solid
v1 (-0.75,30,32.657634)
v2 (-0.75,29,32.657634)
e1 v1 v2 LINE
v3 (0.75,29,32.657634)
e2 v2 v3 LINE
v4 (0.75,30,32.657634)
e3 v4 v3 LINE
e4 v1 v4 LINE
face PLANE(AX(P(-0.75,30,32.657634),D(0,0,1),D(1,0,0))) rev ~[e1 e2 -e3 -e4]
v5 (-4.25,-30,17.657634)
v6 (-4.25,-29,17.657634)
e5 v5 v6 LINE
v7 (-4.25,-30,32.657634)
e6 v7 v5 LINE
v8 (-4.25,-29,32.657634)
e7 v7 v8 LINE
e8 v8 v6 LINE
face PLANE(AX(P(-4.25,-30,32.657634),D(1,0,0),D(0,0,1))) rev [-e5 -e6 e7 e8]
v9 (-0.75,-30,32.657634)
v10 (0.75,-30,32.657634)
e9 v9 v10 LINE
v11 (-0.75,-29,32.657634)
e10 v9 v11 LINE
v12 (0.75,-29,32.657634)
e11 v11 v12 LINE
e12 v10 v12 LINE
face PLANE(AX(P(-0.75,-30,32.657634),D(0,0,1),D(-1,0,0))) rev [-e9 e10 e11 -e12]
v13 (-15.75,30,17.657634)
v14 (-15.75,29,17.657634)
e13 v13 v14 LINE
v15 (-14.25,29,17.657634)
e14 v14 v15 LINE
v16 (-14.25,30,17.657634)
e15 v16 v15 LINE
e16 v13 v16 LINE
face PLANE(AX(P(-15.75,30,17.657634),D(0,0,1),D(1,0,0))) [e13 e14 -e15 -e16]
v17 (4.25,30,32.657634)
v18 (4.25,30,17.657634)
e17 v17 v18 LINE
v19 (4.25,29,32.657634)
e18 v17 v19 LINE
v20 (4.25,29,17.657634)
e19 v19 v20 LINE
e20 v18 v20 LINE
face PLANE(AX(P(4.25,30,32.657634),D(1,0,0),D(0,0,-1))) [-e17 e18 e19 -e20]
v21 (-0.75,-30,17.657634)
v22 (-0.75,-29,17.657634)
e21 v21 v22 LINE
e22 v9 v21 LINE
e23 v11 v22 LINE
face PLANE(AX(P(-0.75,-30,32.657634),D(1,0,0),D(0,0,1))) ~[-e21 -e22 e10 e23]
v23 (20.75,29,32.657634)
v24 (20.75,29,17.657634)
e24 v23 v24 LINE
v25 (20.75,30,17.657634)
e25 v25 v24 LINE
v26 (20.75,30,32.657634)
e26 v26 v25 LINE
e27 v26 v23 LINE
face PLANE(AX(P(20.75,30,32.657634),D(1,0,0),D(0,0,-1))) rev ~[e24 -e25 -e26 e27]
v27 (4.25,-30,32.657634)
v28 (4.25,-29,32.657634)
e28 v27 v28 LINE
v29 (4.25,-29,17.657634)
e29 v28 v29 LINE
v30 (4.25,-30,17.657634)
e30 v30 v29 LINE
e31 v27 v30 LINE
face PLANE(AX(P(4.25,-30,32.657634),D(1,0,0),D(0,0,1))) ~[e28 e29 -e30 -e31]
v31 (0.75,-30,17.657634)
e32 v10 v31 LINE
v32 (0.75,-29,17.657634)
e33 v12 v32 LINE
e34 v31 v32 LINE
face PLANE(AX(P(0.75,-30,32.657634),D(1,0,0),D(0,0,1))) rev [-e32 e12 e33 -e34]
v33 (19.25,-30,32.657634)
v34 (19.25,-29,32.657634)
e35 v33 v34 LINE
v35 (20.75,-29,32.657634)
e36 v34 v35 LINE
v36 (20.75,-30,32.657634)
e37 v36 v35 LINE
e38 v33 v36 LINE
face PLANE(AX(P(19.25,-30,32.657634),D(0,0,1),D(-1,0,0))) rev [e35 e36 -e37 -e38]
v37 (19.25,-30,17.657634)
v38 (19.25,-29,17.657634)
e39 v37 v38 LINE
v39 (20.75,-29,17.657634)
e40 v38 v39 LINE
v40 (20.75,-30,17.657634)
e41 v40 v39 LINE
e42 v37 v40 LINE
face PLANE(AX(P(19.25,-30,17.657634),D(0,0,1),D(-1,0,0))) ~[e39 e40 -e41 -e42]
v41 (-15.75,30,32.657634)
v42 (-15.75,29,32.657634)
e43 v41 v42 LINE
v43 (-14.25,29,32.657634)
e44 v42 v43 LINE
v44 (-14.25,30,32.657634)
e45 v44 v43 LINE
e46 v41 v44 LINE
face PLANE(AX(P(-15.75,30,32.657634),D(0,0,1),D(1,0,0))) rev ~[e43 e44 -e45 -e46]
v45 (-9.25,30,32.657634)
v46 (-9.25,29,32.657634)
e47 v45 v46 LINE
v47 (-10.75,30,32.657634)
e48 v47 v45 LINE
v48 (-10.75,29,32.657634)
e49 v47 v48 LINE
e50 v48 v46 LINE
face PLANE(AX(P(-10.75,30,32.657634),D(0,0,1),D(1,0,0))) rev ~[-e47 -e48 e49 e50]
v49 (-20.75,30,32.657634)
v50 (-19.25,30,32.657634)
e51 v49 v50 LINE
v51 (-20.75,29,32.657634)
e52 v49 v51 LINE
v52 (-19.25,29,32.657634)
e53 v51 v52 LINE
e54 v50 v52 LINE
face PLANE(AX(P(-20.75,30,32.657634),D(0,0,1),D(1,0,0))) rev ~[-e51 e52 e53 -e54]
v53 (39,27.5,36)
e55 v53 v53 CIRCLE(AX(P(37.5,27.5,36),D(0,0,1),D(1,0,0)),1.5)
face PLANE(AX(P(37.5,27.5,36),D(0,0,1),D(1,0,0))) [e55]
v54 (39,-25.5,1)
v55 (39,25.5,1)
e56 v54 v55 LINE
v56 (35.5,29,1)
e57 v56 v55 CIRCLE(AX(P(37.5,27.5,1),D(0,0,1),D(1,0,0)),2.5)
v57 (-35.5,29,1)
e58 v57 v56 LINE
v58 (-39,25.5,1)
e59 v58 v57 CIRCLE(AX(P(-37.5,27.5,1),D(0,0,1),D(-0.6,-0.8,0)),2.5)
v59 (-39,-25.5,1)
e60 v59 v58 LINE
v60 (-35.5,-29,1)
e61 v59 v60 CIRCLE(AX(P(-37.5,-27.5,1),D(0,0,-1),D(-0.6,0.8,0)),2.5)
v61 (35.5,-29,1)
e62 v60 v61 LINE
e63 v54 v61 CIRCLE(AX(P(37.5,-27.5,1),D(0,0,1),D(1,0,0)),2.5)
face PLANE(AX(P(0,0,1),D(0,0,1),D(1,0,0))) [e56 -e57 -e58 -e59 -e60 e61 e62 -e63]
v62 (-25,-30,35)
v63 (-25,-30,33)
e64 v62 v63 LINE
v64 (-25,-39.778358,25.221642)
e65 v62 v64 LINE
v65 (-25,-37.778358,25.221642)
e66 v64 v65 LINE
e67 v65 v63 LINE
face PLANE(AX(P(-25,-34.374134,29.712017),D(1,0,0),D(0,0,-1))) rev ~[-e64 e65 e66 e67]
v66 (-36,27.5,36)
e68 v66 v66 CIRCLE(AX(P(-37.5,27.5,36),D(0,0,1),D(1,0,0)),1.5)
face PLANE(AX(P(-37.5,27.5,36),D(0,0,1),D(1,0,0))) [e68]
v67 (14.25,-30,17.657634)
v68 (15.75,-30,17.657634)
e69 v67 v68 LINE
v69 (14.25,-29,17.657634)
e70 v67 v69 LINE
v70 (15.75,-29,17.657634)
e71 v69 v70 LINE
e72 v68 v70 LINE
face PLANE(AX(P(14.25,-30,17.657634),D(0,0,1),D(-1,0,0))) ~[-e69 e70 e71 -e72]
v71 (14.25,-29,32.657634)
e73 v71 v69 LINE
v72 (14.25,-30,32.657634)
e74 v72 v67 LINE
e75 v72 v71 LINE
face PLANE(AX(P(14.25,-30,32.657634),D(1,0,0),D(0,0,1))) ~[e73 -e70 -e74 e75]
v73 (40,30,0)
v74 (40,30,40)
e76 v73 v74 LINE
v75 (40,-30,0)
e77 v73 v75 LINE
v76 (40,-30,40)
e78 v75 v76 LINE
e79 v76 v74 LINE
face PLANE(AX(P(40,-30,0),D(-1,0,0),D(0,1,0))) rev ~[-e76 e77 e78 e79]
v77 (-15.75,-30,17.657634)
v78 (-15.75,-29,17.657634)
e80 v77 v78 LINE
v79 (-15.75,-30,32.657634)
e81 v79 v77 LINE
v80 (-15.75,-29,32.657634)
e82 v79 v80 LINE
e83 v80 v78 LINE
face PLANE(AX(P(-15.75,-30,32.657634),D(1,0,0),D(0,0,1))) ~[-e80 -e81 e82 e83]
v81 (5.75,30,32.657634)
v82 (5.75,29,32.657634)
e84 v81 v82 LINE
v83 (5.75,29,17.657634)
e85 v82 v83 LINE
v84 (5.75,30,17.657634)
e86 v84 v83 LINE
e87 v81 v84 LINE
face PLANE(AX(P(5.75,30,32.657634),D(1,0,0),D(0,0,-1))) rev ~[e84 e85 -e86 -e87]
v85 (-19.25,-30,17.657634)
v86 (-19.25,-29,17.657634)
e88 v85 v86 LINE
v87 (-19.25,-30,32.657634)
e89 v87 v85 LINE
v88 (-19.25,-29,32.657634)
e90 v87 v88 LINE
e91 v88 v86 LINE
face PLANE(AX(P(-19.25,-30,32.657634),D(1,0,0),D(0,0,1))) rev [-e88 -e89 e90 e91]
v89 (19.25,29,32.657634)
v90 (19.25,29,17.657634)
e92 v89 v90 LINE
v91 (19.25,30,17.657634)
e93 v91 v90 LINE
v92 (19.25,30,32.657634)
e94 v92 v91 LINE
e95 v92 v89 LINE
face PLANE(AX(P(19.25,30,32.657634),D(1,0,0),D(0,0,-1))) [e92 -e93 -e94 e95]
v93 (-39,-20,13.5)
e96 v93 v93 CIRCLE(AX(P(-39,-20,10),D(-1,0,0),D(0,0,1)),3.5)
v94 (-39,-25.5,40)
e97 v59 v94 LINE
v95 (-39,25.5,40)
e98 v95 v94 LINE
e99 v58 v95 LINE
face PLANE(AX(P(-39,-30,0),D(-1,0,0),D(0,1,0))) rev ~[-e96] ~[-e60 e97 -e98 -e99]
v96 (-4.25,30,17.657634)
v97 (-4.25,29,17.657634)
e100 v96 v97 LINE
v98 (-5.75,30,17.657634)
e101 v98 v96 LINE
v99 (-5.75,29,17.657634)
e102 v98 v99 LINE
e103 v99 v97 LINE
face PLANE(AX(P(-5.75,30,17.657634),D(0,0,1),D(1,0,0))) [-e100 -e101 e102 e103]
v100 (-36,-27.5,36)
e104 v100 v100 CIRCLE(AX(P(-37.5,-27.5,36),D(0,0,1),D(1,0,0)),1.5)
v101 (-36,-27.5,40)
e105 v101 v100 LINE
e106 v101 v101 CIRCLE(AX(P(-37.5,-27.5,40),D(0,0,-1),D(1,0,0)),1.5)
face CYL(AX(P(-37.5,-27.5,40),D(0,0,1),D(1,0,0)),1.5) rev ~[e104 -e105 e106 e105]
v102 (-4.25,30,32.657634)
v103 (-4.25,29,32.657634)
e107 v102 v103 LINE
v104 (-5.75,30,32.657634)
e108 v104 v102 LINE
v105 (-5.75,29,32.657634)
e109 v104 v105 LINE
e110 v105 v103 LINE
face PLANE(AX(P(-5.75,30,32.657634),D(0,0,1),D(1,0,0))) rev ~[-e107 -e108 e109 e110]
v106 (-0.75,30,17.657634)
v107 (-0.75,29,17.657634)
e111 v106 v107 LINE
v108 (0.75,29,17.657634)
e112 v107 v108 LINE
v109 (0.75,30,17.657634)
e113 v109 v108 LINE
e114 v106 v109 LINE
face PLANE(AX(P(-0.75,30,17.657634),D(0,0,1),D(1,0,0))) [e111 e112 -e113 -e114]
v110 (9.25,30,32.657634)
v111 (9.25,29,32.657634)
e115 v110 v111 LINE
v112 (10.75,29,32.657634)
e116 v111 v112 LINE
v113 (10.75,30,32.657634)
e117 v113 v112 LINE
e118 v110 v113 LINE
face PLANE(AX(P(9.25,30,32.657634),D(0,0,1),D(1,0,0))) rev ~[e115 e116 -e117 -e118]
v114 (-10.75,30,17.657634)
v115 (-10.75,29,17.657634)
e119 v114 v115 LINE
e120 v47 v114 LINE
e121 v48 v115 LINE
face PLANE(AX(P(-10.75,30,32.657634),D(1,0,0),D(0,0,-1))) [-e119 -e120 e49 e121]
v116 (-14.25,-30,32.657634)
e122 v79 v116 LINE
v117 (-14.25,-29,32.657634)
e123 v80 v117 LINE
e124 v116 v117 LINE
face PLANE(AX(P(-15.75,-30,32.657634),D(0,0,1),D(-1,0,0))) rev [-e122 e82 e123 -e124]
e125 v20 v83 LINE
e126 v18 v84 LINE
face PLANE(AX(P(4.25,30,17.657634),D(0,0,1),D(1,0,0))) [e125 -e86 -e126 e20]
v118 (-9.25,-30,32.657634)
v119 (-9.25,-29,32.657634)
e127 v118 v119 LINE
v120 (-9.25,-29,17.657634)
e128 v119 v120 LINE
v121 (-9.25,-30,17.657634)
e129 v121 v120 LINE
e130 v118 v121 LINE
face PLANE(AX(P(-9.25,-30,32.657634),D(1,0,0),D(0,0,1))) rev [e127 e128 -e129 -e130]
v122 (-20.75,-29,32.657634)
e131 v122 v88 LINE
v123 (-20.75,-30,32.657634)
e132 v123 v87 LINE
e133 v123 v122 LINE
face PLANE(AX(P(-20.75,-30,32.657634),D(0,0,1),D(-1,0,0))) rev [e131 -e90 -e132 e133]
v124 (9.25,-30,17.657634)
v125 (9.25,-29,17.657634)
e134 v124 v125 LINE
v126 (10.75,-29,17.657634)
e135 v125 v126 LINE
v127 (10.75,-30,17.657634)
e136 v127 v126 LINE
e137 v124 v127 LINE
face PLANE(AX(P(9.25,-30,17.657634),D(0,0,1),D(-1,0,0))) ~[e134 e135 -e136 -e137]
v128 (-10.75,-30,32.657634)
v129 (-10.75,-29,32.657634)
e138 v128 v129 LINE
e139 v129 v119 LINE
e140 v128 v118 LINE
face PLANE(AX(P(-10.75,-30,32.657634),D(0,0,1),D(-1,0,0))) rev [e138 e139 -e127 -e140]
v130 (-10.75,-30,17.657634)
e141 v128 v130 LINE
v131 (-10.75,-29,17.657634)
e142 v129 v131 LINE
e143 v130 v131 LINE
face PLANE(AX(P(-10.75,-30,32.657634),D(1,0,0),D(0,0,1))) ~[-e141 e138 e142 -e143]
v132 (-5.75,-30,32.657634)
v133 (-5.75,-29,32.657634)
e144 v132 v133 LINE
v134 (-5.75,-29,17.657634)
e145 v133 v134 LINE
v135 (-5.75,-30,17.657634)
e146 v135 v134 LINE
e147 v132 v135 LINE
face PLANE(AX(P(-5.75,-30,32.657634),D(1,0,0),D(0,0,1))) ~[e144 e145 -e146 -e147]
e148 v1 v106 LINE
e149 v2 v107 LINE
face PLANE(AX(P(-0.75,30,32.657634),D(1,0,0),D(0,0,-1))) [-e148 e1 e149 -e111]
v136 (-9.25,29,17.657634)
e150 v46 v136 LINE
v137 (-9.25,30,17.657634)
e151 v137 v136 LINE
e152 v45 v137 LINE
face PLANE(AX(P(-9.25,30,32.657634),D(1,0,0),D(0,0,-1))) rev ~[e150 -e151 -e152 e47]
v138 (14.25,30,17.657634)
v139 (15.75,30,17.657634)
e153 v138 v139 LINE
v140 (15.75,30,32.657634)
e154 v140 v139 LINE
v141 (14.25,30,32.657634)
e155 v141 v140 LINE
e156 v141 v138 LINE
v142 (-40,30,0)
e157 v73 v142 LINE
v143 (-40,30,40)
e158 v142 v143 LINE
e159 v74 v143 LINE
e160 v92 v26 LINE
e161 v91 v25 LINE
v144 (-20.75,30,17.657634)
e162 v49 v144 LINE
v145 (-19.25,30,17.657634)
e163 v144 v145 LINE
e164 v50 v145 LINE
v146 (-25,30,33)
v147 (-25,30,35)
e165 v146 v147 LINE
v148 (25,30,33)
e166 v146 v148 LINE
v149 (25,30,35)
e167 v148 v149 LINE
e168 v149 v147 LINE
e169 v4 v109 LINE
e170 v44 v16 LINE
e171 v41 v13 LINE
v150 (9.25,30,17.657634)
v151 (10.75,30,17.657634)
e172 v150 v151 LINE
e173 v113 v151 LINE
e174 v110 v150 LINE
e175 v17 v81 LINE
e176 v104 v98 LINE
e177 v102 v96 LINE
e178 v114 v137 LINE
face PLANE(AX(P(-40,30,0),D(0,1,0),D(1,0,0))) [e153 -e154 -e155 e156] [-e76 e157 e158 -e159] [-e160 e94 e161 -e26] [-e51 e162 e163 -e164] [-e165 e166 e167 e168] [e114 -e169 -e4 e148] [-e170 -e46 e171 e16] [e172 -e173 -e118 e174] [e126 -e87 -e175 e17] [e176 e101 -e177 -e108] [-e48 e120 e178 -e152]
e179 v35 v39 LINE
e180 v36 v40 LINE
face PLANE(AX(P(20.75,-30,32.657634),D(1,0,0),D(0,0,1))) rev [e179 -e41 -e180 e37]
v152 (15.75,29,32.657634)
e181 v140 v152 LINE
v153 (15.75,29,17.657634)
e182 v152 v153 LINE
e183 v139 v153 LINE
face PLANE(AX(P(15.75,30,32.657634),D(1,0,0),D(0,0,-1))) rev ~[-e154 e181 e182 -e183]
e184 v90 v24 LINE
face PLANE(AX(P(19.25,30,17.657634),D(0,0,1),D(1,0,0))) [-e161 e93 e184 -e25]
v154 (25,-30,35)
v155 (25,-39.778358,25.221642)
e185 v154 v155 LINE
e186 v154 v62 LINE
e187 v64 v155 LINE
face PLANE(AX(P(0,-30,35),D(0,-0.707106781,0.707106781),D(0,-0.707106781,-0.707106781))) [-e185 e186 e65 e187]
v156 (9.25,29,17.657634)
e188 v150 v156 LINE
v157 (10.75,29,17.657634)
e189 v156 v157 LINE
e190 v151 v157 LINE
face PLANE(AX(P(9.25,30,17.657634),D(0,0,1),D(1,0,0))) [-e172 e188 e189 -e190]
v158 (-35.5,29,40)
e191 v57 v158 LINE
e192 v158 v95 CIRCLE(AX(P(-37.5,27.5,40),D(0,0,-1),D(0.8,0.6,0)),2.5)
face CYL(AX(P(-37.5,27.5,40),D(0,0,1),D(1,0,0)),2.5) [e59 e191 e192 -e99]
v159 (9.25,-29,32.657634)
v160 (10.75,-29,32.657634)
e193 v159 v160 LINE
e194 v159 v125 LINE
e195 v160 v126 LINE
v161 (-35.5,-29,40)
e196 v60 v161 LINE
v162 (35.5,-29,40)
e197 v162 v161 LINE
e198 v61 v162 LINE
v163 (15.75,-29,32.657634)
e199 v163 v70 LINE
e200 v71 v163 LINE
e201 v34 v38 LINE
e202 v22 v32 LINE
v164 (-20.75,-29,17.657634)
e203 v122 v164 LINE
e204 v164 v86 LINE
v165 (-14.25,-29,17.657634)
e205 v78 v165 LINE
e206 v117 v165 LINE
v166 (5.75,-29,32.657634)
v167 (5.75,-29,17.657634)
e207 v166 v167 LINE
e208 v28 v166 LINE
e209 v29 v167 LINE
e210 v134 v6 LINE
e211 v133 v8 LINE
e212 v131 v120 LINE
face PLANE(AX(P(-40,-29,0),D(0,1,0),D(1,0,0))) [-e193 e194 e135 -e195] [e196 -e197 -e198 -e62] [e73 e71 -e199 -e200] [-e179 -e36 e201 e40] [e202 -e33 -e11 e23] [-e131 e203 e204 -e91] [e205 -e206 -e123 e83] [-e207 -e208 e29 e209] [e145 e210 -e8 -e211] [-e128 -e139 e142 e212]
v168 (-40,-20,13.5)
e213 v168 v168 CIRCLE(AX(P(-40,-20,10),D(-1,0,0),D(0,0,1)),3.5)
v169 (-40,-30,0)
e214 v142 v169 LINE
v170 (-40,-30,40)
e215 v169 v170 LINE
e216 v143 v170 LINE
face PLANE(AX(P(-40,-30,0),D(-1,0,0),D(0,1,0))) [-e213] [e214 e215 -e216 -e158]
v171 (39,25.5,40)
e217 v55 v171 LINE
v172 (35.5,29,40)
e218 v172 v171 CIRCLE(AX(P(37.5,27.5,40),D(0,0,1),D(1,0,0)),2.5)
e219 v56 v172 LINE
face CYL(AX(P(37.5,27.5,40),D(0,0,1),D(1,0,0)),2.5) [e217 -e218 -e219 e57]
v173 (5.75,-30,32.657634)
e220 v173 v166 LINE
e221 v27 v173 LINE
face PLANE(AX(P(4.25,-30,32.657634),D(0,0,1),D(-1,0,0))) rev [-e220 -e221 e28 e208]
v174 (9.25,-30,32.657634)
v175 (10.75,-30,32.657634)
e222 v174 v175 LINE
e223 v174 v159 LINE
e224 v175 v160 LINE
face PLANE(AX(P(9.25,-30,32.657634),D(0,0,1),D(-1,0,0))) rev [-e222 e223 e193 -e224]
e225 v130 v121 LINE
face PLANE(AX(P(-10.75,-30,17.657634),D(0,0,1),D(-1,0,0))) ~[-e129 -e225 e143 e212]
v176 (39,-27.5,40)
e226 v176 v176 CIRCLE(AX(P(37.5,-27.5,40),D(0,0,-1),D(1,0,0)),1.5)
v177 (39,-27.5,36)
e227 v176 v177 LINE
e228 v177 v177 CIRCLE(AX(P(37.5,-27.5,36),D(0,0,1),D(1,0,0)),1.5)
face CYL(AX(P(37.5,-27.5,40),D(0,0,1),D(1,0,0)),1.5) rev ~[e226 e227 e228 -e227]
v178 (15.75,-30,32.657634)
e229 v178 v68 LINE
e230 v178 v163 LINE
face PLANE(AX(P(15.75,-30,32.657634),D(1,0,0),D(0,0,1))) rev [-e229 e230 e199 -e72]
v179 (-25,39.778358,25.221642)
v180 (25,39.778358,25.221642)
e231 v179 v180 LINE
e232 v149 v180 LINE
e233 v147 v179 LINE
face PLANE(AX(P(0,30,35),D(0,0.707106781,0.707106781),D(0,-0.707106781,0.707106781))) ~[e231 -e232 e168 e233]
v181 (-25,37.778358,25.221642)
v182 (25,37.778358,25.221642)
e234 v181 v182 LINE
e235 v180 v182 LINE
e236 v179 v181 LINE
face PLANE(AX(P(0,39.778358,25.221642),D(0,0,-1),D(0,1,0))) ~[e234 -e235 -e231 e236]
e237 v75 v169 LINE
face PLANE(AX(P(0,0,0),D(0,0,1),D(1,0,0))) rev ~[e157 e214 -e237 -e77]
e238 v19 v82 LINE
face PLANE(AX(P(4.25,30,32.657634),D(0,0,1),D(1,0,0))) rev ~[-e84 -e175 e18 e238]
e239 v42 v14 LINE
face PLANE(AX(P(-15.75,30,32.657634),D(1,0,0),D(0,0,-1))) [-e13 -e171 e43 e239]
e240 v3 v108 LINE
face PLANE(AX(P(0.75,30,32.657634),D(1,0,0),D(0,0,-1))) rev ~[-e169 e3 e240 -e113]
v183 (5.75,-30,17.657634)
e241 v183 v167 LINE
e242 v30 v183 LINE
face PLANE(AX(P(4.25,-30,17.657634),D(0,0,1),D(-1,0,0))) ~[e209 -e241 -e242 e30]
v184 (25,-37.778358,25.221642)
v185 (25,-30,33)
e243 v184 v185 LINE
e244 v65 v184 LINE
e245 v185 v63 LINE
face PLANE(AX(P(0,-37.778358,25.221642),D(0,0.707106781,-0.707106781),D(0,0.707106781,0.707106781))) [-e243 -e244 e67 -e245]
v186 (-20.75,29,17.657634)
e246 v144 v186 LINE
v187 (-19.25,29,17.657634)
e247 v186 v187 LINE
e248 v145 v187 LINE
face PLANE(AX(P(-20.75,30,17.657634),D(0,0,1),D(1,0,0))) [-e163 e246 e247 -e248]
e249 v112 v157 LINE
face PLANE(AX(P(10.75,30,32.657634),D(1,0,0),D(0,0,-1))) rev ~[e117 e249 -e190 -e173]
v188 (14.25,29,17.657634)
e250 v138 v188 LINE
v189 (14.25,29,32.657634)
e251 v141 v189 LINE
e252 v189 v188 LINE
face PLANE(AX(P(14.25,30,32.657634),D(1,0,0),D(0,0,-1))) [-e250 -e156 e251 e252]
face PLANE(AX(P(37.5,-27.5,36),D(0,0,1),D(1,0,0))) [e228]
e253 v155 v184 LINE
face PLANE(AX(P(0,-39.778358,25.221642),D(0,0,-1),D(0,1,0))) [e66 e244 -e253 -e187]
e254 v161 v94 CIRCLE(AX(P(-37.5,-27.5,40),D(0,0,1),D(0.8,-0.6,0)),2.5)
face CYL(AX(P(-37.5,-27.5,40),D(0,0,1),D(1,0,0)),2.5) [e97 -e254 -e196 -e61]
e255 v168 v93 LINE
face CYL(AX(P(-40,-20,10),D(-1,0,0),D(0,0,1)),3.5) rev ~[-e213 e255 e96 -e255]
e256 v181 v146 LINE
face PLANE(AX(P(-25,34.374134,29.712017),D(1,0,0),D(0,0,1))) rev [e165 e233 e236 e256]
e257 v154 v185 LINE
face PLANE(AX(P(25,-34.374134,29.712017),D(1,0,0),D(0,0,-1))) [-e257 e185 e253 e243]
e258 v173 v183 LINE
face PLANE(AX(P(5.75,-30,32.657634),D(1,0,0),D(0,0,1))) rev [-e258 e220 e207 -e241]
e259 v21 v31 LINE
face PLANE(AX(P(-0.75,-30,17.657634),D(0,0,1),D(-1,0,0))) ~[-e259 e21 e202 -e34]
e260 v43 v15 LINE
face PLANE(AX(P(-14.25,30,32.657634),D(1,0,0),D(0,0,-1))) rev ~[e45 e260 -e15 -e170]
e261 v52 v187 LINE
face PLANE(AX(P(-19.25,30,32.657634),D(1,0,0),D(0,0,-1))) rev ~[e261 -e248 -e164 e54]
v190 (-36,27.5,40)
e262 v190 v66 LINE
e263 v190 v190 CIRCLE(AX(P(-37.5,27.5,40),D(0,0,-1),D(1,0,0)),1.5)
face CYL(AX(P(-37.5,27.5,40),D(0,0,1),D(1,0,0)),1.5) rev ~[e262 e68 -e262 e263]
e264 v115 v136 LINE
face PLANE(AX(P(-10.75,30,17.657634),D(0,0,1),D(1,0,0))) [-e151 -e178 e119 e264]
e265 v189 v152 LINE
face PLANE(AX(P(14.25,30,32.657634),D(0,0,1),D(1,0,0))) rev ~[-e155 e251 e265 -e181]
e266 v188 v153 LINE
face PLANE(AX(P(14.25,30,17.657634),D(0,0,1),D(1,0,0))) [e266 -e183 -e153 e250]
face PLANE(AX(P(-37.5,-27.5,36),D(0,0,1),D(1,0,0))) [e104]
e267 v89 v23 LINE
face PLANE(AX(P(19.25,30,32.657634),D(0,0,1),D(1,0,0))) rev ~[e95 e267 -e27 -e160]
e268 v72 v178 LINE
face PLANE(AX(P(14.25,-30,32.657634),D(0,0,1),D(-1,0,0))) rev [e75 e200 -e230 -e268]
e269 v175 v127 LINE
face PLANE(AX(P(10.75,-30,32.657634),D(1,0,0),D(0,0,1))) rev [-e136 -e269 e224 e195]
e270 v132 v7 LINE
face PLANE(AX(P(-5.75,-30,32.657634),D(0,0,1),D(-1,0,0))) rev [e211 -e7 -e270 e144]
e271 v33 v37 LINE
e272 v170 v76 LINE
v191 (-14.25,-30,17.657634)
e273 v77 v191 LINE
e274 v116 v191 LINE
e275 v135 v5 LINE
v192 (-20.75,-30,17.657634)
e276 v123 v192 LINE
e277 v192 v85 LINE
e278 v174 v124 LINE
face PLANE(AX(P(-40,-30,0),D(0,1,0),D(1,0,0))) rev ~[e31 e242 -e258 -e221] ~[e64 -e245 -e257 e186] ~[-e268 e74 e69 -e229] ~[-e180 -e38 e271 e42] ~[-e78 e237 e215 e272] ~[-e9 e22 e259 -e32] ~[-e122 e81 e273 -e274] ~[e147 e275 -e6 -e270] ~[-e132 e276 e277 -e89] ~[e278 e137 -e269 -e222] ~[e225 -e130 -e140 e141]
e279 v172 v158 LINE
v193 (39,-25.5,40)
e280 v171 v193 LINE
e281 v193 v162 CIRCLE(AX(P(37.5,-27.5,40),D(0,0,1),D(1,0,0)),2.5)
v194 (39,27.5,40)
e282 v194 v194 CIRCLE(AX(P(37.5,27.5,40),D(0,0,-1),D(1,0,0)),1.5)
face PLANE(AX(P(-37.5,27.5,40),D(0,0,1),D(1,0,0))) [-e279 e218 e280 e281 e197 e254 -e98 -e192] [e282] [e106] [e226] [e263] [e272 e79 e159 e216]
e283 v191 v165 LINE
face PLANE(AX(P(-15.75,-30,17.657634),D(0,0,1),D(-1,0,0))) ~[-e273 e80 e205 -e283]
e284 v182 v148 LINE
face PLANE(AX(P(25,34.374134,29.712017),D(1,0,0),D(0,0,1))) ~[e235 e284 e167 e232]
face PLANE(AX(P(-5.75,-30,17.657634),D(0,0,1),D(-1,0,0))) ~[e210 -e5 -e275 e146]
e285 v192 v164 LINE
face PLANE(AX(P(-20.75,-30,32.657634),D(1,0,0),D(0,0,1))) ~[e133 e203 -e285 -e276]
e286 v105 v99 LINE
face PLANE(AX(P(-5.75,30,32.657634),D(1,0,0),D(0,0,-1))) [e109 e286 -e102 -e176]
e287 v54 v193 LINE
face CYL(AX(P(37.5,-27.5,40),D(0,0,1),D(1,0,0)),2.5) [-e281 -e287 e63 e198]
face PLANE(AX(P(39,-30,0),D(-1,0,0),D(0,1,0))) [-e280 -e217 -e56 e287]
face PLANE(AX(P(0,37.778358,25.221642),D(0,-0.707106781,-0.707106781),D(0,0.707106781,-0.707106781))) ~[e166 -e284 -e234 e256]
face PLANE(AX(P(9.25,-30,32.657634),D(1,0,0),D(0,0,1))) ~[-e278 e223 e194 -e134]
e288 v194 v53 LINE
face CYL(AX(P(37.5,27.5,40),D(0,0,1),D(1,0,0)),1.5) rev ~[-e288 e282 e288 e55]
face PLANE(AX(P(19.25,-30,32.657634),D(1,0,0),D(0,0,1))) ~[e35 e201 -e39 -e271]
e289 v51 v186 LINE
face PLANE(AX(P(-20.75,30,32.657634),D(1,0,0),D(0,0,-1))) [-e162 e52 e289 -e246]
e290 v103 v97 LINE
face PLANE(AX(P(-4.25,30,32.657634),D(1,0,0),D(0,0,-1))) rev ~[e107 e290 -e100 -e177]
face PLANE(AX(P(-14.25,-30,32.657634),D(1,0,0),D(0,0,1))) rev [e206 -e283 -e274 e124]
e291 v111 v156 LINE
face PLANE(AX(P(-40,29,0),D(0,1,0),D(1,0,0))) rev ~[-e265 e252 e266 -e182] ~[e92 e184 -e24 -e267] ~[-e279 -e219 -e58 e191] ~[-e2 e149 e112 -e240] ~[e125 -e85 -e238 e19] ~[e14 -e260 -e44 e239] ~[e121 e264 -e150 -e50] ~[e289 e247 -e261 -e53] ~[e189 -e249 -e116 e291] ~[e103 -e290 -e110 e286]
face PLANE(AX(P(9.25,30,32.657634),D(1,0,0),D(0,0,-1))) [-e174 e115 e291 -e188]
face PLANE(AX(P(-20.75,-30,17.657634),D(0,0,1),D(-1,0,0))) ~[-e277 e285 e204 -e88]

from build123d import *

# Parameters (mm, degrees)
CROQUIS1_W              = 80
CROQUIS1_H              = 60
SALIENTE_EXTRUIR1_DEPTH = 40
VACIADO1_T              = -1
CROQUIS2_R              = 2.5
CROQUIS2_R_2            = 1.5
SALIENTE_EXTRUIR2_DEPTH = 40
SALIENTE_EXTRUIR3_DEPTH = 25
CROQUIS4_W              = 1.5
CROQUIS4_H              = 15
CORTAR_EXTRUIR1_DEPTH   = 1
CROQUIS5_R              = 1.5
SALIENTE_EXTRUIR4_DEPTH = 35
CORTAR_EXTRUIR2_REACH   = 82
CROQUIS6_R              = 3.5


with BuildPart() as part:
    # Croquis1 → Saliente-Extruir1 (new body)
    with BuildSketch(Plane.XY):
        Rectangle(CROQUIS1_W, CROQUIS1_H)
    extrude(amount=SALIENTE_EXTRUIR1_DEPTH)

    # Vaciado1
    vaciado1_openings = [part.faces().sort_by_distance(p)[0] for p in [
        (0, 0, 40),
    ]]
    offset(amount=VACIADO1_T, openings=vaciado1_openings, kind=Kind.INTERSECTION)

    # Croquis2 → Saliente-Extruir2 (add)
    with BuildSketch(Plane.XY.offset(40)):
        with Locations((-37.5, 27.5)):
            Circle(CROQUIS2_R)
        with Locations((-37.5, 27.5)):
            Circle(CROQUIS2_R_2, mode=Mode.SUBTRACT)
        with Locations((37.5, 27.5)):
            Circle(CROQUIS2_R)
        with Locations((37.5, 27.5)):
            Circle(CROQUIS2_R_2, mode=Mode.SUBTRACT)
        with Locations((37.5, -27.5)):
            Circle(CROQUIS2_R)
        with Locations((37.5, -27.5)):
            Circle(CROQUIS2_R_2, mode=Mode.SUBTRACT)
        with Locations((-37.5, -27.5)):
            Circle(CROQUIS2_R)
        with Locations((-37.5, -27.5)):
            Circle(CROQUIS2_R_2, mode=Mode.SUBTRACT)
    extrude(amount=-SALIENTE_EXTRUIR2_DEPTH)

    # Croquis3 → Saliente-Extruir3 (add, symmetric)
    with BuildSketch(Plane(origin=(0, 0, 0), x_dir=(0, 0, -1), z_dir=(1, 0, 0))):
        Polygon((-35, -30), (-25.221641576, -39.778358424), (-25.221641576, -37.778358424), (-33.224472237, -29.775527763), (-35, -29.775527763), align=None)
    saliente_extruir3 = extrude(amount=SALIENTE_EXTRUIR3_DEPTH, both=True)

    # Simetría1: Saliente-Extruir3 across plane
    add(saliente_extruir3.mirror(Plane.ZX))

    # Croquis4 → Cortar-Extruir1 (cut)
    with BuildSketch(Plane(origin=(0, 30, 0), x_dir=(1, 0, 0), z_dir=(0, 1, 0))):
        with Locations((5, -25.157633817)):
            Rectangle(CROQUIS4_W, CROQUIS4_H)
        with Locations((0, -25.157633817)):
            Rectangle(CROQUIS4_W, CROQUIS4_H)
        with Locations((10, -25.157633817)):
            Rectangle(CROQUIS4_W, CROQUIS4_H)
        with Locations((15, -25.157633817)):
            Rectangle(CROQUIS4_W, CROQUIS4_H)
        with Locations((20, -25.157633817)):
            Rectangle(CROQUIS4_W, CROQUIS4_H)
        with Locations((-5, -25.157633817)):
            Rectangle(CROQUIS4_W, CROQUIS4_H)
        with Locations((-10, -25.157633817)):
            Rectangle(CROQUIS4_W, CROQUIS4_H)
        with Locations((-15, -25.157633817)):
            Rectangle(CROQUIS4_W, CROQUIS4_H)
        with Locations((-20, -25.157633817)):
            Rectangle(CROQUIS4_W, CROQUIS4_H)
    cortar_extruir1 = extrude(amount=-CORTAR_EXTRUIR1_DEPTH, mode=Mode.SUBTRACT)

    # Simetría2: Cortar-Extruir1 across plane
    add(cortar_extruir1.mirror(Plane.ZX), mode=Mode.SUBTRACT)

    # Croquis5 → Saliente-Extruir4 (add)
    with BuildSketch(Plane.XY.offset(1)):
        with Locations((37.5, -27.5)):
            Circle(CROQUIS5_R)
        with Locations((37.5, 27.5)):
            Circle(CROQUIS5_R)
        with Locations((-37.5, 27.5)):
            Circle(CROQUIS5_R)
        with Locations((-37.5, -27.5)):
            Circle(CROQUIS5_R)
    extrude(amount=SALIENTE_EXTRUIR4_DEPTH)

    # Croquis6 → Cortar-Extruir2 (cut, up to next)
    with BuildSketch(Plane.ZY.offset(40), mode=Mode.PRIVATE) as cortar_extruir2_sk1:
        with Locations((10, -20)):
            Circle(CROQUIS6_R)
    cortar_extruir2_tool1 = extrude(cortar_extruir2_sk1.sketch, amount=-CORTAR_EXTRUIR2_REACH, mode=Mode.PRIVATE) & part.part
    add(cortar_extruir2_tool1.solids().sort_by_distance((-40, -20, 10))[0], mode=Mode.SUBTRACT)


solid = part.part
